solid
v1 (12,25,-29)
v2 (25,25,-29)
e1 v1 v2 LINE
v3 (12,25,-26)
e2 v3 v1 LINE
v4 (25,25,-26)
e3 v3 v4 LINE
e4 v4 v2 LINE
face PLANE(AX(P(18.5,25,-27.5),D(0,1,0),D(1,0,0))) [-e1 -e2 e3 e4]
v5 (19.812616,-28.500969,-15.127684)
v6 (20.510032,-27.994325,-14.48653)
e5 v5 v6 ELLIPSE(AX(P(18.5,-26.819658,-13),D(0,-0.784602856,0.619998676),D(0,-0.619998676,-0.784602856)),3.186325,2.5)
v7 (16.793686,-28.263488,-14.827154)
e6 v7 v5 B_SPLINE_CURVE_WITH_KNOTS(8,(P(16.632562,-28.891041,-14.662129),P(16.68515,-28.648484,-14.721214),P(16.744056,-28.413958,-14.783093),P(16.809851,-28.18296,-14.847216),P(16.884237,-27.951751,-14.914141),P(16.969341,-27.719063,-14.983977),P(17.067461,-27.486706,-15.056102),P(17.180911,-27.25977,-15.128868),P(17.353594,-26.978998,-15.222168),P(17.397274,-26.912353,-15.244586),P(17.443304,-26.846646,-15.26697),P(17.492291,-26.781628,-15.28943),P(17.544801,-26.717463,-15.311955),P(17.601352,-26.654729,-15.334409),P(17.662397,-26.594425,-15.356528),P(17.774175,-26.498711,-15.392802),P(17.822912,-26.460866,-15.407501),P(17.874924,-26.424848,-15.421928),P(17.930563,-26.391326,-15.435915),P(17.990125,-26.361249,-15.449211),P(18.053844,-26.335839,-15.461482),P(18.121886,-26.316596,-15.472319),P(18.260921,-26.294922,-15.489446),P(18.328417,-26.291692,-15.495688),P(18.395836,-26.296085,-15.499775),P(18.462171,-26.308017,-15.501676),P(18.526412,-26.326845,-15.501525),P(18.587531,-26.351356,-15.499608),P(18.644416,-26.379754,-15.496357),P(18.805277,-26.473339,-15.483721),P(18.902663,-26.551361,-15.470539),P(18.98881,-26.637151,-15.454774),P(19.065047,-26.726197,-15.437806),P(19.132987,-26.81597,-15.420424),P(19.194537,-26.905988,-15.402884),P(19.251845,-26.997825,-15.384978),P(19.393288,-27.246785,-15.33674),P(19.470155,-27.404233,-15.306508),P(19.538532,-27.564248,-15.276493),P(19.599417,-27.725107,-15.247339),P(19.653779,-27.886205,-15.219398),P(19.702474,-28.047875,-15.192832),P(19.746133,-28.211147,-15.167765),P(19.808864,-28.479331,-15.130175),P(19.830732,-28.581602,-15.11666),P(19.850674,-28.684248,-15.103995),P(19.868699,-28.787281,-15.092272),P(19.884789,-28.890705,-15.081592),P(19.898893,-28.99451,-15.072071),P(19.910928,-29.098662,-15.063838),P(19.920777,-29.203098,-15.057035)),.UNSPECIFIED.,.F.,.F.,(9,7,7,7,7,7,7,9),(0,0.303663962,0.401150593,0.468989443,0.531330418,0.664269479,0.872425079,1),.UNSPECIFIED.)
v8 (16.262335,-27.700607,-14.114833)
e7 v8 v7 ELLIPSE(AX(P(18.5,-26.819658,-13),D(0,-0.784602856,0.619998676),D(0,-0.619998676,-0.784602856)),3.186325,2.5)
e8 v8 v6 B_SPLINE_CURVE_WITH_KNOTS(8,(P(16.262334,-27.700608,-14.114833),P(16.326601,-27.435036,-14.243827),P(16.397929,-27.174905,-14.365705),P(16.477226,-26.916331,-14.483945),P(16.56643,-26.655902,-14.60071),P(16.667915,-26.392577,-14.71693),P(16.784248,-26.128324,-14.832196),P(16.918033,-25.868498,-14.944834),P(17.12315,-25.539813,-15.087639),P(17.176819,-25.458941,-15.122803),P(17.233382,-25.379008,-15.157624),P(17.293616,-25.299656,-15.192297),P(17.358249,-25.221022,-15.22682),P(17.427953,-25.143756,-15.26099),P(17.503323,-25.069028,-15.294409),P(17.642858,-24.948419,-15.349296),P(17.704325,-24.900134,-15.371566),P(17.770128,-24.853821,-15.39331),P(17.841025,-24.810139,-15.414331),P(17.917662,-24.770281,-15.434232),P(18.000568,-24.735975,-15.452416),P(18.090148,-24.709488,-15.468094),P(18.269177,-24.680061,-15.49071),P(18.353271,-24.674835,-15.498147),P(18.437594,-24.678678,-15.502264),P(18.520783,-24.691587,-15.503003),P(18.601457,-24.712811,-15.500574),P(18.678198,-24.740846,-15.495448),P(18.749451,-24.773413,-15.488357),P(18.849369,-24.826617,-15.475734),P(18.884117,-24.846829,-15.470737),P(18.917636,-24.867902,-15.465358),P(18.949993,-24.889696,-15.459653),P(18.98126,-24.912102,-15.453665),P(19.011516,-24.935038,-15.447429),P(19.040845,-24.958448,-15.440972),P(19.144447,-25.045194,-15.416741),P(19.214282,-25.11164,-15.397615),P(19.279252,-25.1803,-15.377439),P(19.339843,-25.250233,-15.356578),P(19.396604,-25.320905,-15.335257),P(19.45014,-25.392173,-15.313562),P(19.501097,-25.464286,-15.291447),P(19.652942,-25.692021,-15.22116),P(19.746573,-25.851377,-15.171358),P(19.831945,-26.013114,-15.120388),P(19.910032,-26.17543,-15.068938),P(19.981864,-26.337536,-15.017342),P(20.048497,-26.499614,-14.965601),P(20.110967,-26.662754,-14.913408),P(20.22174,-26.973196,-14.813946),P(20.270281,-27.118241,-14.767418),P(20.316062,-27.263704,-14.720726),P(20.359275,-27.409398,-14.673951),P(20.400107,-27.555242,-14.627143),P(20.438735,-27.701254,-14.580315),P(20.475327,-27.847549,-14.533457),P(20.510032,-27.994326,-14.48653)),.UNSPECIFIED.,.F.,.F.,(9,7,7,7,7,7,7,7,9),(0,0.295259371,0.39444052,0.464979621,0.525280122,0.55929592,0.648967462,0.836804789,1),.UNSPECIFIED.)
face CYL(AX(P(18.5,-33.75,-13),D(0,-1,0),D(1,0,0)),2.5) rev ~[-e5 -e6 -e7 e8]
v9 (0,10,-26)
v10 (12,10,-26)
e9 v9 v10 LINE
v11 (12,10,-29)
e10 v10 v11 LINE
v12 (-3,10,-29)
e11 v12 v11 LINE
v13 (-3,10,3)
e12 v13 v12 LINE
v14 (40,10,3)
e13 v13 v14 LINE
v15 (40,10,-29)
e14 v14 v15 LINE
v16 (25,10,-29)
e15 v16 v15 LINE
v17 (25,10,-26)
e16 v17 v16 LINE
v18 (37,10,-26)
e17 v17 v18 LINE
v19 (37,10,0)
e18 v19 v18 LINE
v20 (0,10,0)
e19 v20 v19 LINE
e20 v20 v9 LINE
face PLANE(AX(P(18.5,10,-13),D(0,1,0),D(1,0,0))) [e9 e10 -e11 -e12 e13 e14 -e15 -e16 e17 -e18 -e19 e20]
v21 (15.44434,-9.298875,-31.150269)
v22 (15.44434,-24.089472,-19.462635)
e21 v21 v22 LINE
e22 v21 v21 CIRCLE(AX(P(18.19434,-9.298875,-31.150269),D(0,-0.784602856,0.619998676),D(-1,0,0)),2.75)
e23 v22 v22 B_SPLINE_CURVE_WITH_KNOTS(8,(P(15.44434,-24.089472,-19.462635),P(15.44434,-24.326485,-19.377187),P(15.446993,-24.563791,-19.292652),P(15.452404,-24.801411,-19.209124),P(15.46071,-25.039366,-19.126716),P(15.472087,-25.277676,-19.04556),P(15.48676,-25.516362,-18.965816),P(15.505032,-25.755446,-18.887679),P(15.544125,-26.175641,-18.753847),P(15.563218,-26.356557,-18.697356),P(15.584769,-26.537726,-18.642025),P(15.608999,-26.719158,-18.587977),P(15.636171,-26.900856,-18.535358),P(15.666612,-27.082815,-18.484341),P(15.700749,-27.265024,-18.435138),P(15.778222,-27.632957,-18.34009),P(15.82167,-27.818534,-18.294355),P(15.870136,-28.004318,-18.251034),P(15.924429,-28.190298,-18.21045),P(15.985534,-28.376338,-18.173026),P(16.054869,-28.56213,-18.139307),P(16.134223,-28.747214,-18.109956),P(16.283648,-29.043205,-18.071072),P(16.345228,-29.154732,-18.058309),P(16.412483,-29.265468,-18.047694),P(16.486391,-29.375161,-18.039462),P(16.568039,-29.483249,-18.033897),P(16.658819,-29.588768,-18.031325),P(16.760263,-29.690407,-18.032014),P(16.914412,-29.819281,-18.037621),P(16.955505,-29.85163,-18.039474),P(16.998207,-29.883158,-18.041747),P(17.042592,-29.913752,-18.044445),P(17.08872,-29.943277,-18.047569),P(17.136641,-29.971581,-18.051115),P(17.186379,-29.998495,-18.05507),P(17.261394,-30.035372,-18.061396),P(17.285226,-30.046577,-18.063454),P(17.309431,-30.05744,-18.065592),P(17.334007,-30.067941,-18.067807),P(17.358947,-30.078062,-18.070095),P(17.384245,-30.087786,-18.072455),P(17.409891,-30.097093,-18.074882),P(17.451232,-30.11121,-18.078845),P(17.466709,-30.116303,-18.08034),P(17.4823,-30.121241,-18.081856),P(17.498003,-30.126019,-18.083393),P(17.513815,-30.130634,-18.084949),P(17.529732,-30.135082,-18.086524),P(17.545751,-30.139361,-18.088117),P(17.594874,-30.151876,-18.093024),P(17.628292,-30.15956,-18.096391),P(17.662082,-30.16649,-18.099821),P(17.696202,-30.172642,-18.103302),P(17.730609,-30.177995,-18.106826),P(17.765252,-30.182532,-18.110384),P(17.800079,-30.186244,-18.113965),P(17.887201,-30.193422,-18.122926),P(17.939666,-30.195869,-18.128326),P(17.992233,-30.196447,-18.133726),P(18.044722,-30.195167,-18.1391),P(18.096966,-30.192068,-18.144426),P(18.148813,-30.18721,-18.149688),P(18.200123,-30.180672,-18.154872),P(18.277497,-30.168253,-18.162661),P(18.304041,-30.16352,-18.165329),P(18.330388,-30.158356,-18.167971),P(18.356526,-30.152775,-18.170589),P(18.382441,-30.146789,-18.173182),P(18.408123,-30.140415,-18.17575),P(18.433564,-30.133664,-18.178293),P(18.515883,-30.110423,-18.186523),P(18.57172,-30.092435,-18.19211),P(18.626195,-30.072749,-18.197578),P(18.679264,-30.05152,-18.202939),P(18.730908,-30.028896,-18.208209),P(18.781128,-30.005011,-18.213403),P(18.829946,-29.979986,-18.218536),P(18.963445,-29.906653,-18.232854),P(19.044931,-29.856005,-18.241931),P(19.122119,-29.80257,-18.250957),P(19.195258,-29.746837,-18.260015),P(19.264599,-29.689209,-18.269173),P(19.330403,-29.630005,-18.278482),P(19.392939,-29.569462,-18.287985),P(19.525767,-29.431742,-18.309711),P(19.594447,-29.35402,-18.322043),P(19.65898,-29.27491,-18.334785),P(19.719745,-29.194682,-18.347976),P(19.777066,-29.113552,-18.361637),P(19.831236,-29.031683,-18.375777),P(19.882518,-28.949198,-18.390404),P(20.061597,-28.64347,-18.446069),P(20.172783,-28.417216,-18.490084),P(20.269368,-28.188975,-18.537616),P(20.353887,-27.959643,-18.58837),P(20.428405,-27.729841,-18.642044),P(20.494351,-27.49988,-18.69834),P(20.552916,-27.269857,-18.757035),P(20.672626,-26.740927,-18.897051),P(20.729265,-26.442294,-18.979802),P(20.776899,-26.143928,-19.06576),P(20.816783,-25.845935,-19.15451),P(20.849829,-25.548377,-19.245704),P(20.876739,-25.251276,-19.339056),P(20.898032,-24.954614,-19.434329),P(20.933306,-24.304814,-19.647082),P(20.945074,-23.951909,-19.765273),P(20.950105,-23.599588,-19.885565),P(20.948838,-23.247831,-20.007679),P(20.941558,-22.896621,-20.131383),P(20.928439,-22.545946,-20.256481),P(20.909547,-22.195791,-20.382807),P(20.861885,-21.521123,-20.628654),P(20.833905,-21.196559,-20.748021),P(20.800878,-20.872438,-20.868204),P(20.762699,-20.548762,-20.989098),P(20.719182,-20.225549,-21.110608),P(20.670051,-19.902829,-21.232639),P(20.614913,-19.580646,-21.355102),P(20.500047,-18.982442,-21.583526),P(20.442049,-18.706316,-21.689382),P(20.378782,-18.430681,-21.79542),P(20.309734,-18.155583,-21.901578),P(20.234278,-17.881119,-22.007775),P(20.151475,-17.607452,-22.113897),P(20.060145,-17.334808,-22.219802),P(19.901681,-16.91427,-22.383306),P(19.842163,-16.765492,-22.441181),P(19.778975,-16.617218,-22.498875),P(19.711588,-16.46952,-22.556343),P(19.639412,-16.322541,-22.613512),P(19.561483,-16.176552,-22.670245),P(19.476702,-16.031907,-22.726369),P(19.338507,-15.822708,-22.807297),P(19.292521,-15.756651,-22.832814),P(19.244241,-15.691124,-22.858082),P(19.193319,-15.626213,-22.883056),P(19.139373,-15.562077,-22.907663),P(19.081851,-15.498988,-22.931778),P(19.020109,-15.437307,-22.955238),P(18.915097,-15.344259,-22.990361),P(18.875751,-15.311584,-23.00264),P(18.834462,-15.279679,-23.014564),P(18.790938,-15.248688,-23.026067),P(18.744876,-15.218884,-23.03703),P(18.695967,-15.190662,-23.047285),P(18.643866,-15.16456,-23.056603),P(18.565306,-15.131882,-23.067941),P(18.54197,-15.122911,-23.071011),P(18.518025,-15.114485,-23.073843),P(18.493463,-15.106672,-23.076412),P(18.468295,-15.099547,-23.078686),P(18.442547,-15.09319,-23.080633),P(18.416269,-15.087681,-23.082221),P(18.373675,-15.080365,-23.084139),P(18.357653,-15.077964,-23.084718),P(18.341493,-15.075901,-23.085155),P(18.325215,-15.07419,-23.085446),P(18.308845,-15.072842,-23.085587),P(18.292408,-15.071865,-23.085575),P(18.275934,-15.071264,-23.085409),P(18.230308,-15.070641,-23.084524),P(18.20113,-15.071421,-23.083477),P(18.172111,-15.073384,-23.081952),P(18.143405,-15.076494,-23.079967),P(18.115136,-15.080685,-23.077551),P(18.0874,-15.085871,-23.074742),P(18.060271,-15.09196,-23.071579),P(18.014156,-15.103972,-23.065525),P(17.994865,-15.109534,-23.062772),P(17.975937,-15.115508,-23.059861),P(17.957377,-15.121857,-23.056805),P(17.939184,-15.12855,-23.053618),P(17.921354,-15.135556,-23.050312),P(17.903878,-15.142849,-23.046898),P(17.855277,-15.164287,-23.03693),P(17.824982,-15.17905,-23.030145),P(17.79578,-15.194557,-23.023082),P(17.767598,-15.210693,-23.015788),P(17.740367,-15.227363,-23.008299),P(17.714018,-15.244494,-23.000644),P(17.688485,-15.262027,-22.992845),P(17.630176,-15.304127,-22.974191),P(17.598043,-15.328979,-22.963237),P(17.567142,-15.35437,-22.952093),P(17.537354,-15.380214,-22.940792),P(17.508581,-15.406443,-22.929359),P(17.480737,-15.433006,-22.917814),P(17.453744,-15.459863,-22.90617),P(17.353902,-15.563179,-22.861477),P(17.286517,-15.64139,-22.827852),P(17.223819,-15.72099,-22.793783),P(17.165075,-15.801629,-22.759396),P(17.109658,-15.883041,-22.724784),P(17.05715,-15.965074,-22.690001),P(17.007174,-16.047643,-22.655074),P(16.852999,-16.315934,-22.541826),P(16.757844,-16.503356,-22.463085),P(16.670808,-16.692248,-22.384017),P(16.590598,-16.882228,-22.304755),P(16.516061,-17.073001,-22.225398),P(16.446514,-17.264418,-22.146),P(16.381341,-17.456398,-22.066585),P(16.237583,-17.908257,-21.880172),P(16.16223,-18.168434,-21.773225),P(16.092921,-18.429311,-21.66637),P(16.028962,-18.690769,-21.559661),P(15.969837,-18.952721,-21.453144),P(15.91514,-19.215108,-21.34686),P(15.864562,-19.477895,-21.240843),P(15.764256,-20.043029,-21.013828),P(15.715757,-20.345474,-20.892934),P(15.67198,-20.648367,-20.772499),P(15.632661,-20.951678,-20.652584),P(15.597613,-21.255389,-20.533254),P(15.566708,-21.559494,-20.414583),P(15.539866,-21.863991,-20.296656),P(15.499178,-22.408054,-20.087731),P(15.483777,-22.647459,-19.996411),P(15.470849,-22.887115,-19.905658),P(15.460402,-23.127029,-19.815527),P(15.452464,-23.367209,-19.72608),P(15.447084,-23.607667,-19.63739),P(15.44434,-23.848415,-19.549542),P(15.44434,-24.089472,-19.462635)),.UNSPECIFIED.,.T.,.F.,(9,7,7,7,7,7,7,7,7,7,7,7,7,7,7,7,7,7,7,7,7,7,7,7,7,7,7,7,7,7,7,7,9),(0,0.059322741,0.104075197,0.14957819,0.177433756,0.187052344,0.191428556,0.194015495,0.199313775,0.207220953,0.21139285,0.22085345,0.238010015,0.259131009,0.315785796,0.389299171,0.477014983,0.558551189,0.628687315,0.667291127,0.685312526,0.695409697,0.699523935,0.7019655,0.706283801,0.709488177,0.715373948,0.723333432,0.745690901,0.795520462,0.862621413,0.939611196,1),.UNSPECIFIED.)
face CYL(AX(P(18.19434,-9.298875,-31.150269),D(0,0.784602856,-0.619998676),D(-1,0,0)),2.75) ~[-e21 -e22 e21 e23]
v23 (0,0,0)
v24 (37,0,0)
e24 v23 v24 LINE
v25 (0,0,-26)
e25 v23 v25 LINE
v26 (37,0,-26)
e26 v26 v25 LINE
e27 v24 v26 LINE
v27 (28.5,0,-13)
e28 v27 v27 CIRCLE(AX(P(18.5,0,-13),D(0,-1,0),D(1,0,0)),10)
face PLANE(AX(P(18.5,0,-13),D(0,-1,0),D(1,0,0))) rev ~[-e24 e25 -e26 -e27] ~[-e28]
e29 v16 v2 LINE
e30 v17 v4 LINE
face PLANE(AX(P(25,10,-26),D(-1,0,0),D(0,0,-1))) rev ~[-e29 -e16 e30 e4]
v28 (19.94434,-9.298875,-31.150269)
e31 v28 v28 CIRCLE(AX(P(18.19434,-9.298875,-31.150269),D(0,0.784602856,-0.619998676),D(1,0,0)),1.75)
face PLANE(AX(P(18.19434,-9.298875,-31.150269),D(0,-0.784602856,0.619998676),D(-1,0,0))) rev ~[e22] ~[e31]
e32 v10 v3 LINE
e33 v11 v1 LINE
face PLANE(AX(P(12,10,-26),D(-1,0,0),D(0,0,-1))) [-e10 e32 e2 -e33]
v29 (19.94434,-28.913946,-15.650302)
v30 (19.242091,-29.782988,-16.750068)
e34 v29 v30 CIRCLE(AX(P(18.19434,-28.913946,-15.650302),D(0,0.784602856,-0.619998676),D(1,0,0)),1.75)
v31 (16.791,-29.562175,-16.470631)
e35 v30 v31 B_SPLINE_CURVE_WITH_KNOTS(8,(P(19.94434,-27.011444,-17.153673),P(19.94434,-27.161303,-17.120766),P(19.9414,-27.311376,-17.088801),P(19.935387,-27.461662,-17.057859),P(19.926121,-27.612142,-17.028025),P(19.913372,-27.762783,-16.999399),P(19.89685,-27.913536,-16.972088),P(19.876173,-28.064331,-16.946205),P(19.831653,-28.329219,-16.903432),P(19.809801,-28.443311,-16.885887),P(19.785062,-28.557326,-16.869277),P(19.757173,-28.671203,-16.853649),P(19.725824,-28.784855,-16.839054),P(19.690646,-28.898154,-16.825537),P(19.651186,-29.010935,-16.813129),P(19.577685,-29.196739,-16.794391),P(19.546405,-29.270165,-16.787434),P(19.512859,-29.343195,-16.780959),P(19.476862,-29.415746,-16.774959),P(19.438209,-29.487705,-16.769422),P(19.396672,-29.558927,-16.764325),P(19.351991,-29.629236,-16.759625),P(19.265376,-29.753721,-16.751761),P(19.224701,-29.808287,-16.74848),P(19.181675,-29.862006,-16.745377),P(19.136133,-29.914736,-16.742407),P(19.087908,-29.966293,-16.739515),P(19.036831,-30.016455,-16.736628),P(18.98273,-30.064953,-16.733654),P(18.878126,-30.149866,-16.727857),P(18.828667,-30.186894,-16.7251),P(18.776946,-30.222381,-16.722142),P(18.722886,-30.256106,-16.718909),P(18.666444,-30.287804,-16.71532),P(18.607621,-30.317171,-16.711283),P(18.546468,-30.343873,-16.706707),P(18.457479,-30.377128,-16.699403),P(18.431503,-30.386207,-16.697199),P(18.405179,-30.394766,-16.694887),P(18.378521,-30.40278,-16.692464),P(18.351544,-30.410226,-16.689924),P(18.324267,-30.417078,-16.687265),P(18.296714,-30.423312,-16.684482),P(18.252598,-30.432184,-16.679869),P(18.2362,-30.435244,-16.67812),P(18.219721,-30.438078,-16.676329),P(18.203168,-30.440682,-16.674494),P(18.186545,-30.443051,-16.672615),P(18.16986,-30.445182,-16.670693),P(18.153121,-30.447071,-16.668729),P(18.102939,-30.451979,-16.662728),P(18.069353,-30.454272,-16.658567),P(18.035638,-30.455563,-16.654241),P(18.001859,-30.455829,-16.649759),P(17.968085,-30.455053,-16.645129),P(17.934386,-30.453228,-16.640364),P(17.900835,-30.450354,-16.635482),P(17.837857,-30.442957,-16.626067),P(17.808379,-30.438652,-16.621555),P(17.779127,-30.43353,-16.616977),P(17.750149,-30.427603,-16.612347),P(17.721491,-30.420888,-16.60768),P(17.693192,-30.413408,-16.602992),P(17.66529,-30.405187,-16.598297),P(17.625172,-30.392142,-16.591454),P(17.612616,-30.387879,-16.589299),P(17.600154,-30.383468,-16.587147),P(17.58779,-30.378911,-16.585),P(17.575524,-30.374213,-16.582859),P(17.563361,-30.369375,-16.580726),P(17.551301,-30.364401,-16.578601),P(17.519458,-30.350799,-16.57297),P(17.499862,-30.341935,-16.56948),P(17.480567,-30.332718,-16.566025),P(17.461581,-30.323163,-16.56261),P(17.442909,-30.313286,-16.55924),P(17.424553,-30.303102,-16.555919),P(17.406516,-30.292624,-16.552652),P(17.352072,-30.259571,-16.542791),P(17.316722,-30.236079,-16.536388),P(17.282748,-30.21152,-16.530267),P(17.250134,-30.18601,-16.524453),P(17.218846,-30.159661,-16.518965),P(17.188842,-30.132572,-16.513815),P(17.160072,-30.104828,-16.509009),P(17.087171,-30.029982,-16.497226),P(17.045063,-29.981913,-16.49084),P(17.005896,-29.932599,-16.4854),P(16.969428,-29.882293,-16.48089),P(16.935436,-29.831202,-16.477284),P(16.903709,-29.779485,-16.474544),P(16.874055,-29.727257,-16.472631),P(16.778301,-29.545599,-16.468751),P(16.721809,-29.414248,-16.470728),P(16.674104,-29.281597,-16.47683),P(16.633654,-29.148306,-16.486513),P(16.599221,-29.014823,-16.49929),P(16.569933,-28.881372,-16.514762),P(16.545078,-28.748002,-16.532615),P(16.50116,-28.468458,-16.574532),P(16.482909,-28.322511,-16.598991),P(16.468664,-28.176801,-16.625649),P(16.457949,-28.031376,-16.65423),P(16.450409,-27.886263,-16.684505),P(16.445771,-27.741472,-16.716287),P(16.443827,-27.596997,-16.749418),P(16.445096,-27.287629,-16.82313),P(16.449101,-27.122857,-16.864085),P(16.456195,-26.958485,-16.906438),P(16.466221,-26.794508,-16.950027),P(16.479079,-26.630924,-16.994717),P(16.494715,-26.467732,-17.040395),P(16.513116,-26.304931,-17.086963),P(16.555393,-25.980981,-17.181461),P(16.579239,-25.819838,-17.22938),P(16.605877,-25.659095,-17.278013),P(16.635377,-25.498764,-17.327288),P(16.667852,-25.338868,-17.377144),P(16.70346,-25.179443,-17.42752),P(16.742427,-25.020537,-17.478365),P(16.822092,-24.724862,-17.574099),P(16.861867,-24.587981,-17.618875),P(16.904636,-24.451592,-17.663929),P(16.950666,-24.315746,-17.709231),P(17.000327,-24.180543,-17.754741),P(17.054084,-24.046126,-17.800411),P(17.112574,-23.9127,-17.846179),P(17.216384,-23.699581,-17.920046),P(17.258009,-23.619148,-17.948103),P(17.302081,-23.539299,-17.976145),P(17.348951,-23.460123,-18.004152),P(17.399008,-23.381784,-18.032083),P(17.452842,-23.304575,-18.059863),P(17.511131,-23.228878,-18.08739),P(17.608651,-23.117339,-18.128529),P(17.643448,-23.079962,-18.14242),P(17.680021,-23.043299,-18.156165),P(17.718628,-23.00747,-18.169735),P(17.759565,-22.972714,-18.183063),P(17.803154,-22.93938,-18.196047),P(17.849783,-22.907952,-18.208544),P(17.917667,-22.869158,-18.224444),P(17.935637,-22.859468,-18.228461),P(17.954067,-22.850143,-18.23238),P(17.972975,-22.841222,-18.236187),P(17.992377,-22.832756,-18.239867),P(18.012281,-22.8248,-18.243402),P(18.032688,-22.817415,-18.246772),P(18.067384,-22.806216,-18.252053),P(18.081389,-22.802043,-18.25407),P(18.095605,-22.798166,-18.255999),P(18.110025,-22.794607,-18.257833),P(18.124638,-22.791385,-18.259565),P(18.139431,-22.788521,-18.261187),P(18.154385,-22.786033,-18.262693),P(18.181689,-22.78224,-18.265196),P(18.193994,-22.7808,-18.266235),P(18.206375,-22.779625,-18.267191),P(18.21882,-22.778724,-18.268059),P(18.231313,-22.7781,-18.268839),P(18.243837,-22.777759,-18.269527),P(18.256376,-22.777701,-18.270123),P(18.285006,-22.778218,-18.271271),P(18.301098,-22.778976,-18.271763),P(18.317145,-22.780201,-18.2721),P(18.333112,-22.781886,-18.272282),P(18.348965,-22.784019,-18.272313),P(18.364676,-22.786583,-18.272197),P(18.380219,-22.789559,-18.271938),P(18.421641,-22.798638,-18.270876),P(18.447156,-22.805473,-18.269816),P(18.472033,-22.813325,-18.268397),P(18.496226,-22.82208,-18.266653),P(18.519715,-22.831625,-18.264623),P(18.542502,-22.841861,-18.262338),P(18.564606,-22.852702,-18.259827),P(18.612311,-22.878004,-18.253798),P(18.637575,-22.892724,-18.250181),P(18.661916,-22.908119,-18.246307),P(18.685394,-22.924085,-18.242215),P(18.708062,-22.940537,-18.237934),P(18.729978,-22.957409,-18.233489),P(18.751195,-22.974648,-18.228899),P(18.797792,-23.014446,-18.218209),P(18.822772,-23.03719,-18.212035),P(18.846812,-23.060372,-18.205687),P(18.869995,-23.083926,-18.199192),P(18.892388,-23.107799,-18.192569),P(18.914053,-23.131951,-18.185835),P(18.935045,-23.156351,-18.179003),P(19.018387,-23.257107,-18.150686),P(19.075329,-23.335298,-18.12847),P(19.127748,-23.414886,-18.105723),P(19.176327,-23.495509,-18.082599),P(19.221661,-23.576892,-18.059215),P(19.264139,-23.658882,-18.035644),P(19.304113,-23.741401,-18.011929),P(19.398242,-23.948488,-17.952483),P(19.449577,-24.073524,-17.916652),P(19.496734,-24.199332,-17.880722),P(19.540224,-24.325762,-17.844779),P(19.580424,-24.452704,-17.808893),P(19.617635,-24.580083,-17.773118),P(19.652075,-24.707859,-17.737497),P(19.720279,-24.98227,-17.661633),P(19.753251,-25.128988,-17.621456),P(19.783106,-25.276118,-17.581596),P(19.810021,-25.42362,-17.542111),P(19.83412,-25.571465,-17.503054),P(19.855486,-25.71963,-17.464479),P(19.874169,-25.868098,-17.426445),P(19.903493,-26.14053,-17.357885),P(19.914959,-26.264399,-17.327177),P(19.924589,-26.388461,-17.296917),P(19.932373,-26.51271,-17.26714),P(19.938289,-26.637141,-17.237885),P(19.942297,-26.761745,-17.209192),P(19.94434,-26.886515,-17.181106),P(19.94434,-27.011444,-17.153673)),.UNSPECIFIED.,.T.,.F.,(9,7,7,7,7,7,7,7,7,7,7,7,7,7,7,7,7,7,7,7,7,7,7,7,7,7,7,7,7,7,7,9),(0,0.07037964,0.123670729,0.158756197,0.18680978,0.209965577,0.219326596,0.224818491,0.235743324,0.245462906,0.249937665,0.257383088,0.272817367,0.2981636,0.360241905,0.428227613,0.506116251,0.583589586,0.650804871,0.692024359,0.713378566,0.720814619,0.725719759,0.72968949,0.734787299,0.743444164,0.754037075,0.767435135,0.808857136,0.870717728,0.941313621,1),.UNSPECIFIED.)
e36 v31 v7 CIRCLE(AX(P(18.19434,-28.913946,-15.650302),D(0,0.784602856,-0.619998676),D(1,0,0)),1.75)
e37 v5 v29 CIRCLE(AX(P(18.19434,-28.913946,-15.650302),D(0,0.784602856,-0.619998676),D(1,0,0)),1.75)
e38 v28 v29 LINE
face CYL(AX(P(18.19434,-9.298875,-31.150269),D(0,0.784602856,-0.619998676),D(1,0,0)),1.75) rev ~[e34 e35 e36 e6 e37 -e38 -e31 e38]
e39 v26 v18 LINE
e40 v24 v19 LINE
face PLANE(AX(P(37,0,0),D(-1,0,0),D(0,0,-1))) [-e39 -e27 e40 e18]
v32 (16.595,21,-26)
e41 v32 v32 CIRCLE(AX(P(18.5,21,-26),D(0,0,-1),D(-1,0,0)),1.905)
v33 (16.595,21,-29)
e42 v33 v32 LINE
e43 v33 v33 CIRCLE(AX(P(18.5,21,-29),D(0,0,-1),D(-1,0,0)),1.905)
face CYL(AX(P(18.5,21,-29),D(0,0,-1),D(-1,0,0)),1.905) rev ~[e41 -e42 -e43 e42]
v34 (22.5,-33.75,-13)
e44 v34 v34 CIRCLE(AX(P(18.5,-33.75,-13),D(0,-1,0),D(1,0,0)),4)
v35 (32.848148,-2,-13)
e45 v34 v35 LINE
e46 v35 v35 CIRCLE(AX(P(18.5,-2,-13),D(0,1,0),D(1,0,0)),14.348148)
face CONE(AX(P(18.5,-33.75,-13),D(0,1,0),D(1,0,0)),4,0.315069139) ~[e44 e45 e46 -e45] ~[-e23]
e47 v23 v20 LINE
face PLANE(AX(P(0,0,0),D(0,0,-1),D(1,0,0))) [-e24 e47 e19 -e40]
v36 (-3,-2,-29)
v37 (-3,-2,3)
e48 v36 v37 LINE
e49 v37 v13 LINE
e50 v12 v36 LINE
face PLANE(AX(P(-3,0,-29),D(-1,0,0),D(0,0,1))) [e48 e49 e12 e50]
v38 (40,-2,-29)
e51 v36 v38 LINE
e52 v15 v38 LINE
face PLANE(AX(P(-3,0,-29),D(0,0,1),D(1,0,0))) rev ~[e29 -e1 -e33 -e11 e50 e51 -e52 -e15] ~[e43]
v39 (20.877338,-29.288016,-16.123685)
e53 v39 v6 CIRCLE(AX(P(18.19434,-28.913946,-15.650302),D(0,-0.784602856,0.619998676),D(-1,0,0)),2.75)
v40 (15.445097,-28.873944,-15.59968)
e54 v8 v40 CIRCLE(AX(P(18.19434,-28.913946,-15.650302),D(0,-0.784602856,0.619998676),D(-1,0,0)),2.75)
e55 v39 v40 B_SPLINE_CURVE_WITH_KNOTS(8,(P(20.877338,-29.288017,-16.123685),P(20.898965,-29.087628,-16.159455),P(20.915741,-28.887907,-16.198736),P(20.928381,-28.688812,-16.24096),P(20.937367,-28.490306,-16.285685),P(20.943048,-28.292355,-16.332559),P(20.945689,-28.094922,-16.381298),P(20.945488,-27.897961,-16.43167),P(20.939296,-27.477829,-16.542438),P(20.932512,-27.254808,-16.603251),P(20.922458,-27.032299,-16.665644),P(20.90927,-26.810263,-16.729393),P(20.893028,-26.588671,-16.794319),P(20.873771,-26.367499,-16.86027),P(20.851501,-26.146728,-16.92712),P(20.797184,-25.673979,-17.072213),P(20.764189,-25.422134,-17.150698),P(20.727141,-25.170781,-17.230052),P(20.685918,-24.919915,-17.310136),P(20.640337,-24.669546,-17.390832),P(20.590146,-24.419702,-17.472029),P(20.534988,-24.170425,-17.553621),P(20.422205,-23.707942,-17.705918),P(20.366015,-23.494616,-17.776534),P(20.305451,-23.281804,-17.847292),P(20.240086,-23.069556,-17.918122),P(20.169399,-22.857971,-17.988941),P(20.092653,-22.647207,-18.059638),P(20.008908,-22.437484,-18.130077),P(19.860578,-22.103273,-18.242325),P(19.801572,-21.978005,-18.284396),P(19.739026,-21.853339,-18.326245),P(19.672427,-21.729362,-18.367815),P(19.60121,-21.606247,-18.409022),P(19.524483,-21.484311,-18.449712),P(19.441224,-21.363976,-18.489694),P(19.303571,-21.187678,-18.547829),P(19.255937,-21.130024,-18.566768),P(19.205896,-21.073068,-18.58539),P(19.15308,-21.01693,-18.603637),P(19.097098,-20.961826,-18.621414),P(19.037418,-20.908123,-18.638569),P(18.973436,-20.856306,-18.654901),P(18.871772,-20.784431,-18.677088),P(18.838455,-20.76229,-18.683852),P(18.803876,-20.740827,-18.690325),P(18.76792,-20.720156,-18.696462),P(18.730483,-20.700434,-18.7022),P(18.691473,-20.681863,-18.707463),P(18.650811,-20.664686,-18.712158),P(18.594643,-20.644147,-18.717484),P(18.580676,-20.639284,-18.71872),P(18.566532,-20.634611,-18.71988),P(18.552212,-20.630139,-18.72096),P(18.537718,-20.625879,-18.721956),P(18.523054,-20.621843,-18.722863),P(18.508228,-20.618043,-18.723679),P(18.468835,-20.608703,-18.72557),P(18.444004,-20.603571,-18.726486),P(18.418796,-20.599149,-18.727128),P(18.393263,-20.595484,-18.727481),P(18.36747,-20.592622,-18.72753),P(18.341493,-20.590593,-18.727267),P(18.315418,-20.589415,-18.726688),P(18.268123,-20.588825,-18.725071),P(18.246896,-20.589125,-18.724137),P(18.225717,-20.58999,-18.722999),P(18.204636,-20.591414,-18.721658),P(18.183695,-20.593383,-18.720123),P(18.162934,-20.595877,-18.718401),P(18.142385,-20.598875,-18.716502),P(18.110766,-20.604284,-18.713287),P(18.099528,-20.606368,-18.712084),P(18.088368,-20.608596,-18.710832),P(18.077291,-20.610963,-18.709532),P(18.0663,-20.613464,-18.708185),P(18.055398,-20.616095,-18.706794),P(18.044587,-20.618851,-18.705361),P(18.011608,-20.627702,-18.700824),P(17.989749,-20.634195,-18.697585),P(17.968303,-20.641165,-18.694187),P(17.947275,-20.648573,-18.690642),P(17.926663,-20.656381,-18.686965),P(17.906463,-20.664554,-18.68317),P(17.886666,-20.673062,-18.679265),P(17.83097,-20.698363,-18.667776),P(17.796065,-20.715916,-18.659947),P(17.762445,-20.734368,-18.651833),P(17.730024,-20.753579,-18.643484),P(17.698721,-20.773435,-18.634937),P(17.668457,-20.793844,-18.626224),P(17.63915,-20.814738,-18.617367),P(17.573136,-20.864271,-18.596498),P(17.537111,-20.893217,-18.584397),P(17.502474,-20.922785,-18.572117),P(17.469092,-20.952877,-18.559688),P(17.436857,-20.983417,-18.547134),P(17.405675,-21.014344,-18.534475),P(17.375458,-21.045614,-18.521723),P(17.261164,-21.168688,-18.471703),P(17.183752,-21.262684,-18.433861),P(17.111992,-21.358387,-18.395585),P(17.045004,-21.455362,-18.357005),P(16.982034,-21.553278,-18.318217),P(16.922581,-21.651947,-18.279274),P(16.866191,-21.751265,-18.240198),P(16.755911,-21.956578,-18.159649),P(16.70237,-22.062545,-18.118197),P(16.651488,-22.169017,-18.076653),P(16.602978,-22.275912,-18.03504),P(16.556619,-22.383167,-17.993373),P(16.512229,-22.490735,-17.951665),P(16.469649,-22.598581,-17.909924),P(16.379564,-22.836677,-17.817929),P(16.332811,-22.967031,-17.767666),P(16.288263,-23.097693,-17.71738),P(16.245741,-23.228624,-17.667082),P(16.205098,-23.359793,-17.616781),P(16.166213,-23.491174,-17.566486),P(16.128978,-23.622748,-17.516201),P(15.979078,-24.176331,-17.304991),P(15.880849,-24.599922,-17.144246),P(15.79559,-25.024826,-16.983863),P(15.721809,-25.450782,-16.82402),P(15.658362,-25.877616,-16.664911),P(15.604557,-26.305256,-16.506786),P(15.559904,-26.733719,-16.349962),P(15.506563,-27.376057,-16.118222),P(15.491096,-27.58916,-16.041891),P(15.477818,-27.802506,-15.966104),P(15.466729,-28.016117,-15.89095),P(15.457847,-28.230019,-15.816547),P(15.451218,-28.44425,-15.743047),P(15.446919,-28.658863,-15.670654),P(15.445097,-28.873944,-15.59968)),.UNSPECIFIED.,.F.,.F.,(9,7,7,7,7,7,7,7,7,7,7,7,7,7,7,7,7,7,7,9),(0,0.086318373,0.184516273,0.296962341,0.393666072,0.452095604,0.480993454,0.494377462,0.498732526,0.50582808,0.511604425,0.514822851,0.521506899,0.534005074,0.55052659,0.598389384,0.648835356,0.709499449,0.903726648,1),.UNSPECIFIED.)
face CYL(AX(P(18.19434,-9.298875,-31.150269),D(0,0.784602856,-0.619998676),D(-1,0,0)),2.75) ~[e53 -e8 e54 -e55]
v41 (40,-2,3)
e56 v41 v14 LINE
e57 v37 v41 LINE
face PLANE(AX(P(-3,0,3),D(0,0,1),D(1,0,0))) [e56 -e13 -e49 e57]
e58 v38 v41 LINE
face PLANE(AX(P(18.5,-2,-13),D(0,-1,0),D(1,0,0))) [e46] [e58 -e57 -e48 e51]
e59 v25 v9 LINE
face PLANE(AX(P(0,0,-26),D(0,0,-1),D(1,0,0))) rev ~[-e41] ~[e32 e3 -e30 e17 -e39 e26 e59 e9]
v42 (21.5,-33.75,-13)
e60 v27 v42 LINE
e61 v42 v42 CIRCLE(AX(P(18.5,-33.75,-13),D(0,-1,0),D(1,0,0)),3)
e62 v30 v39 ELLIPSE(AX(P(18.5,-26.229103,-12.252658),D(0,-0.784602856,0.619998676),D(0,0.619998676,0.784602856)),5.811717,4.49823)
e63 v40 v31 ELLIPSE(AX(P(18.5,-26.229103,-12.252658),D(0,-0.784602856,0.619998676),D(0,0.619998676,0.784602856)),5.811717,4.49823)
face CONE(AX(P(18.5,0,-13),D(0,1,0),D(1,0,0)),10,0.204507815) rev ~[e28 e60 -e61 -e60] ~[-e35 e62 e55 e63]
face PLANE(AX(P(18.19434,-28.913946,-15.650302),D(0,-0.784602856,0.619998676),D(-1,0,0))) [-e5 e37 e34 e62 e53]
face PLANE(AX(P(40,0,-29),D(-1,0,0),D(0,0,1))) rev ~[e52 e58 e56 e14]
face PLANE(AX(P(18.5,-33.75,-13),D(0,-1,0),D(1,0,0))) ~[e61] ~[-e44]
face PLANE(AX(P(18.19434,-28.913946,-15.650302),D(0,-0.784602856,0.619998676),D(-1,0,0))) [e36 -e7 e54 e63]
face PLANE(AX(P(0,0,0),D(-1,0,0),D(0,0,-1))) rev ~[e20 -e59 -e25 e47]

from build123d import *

# Parameters (mm, degrees)
SKETCH1_W           = 43
SKETCH1_H           = 32
SKETCH1_W_2         = 37
SKETCH1_H_2         = 26
BOSS_EXTRUDE1_DEPTH = 10
SKETCH2_W           = 13
SKETCH2_H           = 3
BOSS_EXTRUDE2_DEPTH = 15
CUT_EXTRUDE1_REACH  = 34
SKETCH3_R           = 1.905
SKETCH4_W           = 43
SKETCH4_H           = 32
BOSS_EXTRUDE3_DEPTH = 2
CUT_EXTRUDE2_REACH  = 29
SKETCH5_R           = 10
BOSS_EXTRUDE4_START = -5
SKETCH14_R          = 2.75
BOSS_EXTRUDE4_DEPTH = 25
SKETCH16_R          = 1.75
CUT_EXTRUDE3_DEPTH  = 30
SKETCH17_R          = 2.5
CUT_EXTRUDE4_DEPTH  = 10


with BuildPart() as part:
    # Sketch1 → Boss-Extrude1 (new body)
    with BuildSketch(Plane(origin=(0, 0, 0), x_dir=(1, 0, 0), z_dir=(0, 1, 0))):
        with Locations((18.5, 13)):
            Rectangle(SKETCH1_W, SKETCH1_H)
        with Locations((18.5, 13)):
            Rectangle(SKETCH1_W_2, SKETCH1_H_2, mode=Mode.SUBTRACT)
    extrude(amount=BOSS_EXTRUDE1_DEPTH)

    # Sketch2 → Boss-Extrude2 (add)
    with BuildSketch(Plane(origin=(0, 10, 0), x_dir=(1, 0, 0), z_dir=(0, 1, 0))):
        with Locations((18.5, 27.5)):
            Rectangle(SKETCH2_W, SKETCH2_H)
    extrude(amount=BOSS_EXTRUDE2_DEPTH)

    # Sketch3 → Cut-Extrude1 (cut, up to next)
    with BuildSketch(Plane(origin=(0, 0, -29), x_dir=(-1, 0, 0), z_dir=(0, 0, -1)), mode=Mode.PRIVATE) as cut_extrude1_sk1:
        with Locations((-18.5, 21)):
            Circle(SKETCH3_R)
    cut_extrude1_tool1 = extrude(cut_extrude1_sk1.sketch, amount=-CUT_EXTRUDE1_REACH, mode=Mode.PRIVATE) & part.part
    add(cut_extrude1_tool1.solids().sort_by_distance((18.5, 21, -29))[0], mode=Mode.SUBTRACT)

    # Sketch4 → Boss-Extrude3 (add)
    with BuildSketch(Plane.XZ):
        with Locations((18.5, -13)):
            Rectangle(SKETCH4_W, SKETCH4_H)
    extrude(amount=BOSS_EXTRUDE3_DEPTH)

    # Sketch5 → Cut-Extrude2 (cut, up to next)
    with BuildSketch(Plane.XZ.offset(2), mode=Mode.PRIVATE) as cut_extrude2_sk1:
        with Locations((18.5, -13)):
            Circle(SKETCH5_R)
    cut_extrude2_tool1 = extrude(cut_extrude2_sk1.sketch, amount=-CUT_EXTRUDE2_REACH, mode=Mode.PRIVATE) & part.part
    add(cut_extrude2_tool1.solids().sort_by_distance((18.5, -2, -13))[0], mode=Mode.SUBTRACT)

    # Sketch9 → Revolve1 (revolve)
    with BuildSketch(Plane.XY.offset(-13)):
        Polygon((28.5, 0), (21.5, -33.75), (22.5, -33.75), (33.5, 0), align=None)
    revolve(axis=Axis((18.5, -2, -13), (0, -1, 0)))

    # Sketch14 → Boss-Extrude4 (add)
    with BuildSketch(Plane(origin=(18.5, -13.221888935, -28.050276014), x_dir=(-1, 0, 0), z_dir=(0, -0.784602856, 0.619998676)).offset(BOSS_EXTRUDE4_START)):
        with Locations((0.305660396, 0)):
            Circle(SKETCH14_R)
    extrude(amount=BOSS_EXTRUDE4_DEPTH)

    # Sketch16 → Cut-Extrude3 (cut)
    with BuildSketch(Plane(origin=(0, 9.428731153, -7.45064945), x_dir=(1, 0, 0), z_dir=(0, 0.784602856, -0.619998676))):
        with Locations((18.194339604, 30.205880304)):
            Circle(SKETCH16_R)
    extrude(amount=-CUT_EXTRUDE3_DEPTH, mode=Mode.SUBTRACT)

    # Sketch17 → Cut-Extrude4 (cut)
    with BuildSketch(Plane.XZ.offset(33.75)):
        with Locations((18.5, -13)):
            Circle(SKETCH17_R)
    extrude(amount=-CUT_EXTRUDE4_DEPTH, mode=Mode.SUBTRACT)


solid = part.part
